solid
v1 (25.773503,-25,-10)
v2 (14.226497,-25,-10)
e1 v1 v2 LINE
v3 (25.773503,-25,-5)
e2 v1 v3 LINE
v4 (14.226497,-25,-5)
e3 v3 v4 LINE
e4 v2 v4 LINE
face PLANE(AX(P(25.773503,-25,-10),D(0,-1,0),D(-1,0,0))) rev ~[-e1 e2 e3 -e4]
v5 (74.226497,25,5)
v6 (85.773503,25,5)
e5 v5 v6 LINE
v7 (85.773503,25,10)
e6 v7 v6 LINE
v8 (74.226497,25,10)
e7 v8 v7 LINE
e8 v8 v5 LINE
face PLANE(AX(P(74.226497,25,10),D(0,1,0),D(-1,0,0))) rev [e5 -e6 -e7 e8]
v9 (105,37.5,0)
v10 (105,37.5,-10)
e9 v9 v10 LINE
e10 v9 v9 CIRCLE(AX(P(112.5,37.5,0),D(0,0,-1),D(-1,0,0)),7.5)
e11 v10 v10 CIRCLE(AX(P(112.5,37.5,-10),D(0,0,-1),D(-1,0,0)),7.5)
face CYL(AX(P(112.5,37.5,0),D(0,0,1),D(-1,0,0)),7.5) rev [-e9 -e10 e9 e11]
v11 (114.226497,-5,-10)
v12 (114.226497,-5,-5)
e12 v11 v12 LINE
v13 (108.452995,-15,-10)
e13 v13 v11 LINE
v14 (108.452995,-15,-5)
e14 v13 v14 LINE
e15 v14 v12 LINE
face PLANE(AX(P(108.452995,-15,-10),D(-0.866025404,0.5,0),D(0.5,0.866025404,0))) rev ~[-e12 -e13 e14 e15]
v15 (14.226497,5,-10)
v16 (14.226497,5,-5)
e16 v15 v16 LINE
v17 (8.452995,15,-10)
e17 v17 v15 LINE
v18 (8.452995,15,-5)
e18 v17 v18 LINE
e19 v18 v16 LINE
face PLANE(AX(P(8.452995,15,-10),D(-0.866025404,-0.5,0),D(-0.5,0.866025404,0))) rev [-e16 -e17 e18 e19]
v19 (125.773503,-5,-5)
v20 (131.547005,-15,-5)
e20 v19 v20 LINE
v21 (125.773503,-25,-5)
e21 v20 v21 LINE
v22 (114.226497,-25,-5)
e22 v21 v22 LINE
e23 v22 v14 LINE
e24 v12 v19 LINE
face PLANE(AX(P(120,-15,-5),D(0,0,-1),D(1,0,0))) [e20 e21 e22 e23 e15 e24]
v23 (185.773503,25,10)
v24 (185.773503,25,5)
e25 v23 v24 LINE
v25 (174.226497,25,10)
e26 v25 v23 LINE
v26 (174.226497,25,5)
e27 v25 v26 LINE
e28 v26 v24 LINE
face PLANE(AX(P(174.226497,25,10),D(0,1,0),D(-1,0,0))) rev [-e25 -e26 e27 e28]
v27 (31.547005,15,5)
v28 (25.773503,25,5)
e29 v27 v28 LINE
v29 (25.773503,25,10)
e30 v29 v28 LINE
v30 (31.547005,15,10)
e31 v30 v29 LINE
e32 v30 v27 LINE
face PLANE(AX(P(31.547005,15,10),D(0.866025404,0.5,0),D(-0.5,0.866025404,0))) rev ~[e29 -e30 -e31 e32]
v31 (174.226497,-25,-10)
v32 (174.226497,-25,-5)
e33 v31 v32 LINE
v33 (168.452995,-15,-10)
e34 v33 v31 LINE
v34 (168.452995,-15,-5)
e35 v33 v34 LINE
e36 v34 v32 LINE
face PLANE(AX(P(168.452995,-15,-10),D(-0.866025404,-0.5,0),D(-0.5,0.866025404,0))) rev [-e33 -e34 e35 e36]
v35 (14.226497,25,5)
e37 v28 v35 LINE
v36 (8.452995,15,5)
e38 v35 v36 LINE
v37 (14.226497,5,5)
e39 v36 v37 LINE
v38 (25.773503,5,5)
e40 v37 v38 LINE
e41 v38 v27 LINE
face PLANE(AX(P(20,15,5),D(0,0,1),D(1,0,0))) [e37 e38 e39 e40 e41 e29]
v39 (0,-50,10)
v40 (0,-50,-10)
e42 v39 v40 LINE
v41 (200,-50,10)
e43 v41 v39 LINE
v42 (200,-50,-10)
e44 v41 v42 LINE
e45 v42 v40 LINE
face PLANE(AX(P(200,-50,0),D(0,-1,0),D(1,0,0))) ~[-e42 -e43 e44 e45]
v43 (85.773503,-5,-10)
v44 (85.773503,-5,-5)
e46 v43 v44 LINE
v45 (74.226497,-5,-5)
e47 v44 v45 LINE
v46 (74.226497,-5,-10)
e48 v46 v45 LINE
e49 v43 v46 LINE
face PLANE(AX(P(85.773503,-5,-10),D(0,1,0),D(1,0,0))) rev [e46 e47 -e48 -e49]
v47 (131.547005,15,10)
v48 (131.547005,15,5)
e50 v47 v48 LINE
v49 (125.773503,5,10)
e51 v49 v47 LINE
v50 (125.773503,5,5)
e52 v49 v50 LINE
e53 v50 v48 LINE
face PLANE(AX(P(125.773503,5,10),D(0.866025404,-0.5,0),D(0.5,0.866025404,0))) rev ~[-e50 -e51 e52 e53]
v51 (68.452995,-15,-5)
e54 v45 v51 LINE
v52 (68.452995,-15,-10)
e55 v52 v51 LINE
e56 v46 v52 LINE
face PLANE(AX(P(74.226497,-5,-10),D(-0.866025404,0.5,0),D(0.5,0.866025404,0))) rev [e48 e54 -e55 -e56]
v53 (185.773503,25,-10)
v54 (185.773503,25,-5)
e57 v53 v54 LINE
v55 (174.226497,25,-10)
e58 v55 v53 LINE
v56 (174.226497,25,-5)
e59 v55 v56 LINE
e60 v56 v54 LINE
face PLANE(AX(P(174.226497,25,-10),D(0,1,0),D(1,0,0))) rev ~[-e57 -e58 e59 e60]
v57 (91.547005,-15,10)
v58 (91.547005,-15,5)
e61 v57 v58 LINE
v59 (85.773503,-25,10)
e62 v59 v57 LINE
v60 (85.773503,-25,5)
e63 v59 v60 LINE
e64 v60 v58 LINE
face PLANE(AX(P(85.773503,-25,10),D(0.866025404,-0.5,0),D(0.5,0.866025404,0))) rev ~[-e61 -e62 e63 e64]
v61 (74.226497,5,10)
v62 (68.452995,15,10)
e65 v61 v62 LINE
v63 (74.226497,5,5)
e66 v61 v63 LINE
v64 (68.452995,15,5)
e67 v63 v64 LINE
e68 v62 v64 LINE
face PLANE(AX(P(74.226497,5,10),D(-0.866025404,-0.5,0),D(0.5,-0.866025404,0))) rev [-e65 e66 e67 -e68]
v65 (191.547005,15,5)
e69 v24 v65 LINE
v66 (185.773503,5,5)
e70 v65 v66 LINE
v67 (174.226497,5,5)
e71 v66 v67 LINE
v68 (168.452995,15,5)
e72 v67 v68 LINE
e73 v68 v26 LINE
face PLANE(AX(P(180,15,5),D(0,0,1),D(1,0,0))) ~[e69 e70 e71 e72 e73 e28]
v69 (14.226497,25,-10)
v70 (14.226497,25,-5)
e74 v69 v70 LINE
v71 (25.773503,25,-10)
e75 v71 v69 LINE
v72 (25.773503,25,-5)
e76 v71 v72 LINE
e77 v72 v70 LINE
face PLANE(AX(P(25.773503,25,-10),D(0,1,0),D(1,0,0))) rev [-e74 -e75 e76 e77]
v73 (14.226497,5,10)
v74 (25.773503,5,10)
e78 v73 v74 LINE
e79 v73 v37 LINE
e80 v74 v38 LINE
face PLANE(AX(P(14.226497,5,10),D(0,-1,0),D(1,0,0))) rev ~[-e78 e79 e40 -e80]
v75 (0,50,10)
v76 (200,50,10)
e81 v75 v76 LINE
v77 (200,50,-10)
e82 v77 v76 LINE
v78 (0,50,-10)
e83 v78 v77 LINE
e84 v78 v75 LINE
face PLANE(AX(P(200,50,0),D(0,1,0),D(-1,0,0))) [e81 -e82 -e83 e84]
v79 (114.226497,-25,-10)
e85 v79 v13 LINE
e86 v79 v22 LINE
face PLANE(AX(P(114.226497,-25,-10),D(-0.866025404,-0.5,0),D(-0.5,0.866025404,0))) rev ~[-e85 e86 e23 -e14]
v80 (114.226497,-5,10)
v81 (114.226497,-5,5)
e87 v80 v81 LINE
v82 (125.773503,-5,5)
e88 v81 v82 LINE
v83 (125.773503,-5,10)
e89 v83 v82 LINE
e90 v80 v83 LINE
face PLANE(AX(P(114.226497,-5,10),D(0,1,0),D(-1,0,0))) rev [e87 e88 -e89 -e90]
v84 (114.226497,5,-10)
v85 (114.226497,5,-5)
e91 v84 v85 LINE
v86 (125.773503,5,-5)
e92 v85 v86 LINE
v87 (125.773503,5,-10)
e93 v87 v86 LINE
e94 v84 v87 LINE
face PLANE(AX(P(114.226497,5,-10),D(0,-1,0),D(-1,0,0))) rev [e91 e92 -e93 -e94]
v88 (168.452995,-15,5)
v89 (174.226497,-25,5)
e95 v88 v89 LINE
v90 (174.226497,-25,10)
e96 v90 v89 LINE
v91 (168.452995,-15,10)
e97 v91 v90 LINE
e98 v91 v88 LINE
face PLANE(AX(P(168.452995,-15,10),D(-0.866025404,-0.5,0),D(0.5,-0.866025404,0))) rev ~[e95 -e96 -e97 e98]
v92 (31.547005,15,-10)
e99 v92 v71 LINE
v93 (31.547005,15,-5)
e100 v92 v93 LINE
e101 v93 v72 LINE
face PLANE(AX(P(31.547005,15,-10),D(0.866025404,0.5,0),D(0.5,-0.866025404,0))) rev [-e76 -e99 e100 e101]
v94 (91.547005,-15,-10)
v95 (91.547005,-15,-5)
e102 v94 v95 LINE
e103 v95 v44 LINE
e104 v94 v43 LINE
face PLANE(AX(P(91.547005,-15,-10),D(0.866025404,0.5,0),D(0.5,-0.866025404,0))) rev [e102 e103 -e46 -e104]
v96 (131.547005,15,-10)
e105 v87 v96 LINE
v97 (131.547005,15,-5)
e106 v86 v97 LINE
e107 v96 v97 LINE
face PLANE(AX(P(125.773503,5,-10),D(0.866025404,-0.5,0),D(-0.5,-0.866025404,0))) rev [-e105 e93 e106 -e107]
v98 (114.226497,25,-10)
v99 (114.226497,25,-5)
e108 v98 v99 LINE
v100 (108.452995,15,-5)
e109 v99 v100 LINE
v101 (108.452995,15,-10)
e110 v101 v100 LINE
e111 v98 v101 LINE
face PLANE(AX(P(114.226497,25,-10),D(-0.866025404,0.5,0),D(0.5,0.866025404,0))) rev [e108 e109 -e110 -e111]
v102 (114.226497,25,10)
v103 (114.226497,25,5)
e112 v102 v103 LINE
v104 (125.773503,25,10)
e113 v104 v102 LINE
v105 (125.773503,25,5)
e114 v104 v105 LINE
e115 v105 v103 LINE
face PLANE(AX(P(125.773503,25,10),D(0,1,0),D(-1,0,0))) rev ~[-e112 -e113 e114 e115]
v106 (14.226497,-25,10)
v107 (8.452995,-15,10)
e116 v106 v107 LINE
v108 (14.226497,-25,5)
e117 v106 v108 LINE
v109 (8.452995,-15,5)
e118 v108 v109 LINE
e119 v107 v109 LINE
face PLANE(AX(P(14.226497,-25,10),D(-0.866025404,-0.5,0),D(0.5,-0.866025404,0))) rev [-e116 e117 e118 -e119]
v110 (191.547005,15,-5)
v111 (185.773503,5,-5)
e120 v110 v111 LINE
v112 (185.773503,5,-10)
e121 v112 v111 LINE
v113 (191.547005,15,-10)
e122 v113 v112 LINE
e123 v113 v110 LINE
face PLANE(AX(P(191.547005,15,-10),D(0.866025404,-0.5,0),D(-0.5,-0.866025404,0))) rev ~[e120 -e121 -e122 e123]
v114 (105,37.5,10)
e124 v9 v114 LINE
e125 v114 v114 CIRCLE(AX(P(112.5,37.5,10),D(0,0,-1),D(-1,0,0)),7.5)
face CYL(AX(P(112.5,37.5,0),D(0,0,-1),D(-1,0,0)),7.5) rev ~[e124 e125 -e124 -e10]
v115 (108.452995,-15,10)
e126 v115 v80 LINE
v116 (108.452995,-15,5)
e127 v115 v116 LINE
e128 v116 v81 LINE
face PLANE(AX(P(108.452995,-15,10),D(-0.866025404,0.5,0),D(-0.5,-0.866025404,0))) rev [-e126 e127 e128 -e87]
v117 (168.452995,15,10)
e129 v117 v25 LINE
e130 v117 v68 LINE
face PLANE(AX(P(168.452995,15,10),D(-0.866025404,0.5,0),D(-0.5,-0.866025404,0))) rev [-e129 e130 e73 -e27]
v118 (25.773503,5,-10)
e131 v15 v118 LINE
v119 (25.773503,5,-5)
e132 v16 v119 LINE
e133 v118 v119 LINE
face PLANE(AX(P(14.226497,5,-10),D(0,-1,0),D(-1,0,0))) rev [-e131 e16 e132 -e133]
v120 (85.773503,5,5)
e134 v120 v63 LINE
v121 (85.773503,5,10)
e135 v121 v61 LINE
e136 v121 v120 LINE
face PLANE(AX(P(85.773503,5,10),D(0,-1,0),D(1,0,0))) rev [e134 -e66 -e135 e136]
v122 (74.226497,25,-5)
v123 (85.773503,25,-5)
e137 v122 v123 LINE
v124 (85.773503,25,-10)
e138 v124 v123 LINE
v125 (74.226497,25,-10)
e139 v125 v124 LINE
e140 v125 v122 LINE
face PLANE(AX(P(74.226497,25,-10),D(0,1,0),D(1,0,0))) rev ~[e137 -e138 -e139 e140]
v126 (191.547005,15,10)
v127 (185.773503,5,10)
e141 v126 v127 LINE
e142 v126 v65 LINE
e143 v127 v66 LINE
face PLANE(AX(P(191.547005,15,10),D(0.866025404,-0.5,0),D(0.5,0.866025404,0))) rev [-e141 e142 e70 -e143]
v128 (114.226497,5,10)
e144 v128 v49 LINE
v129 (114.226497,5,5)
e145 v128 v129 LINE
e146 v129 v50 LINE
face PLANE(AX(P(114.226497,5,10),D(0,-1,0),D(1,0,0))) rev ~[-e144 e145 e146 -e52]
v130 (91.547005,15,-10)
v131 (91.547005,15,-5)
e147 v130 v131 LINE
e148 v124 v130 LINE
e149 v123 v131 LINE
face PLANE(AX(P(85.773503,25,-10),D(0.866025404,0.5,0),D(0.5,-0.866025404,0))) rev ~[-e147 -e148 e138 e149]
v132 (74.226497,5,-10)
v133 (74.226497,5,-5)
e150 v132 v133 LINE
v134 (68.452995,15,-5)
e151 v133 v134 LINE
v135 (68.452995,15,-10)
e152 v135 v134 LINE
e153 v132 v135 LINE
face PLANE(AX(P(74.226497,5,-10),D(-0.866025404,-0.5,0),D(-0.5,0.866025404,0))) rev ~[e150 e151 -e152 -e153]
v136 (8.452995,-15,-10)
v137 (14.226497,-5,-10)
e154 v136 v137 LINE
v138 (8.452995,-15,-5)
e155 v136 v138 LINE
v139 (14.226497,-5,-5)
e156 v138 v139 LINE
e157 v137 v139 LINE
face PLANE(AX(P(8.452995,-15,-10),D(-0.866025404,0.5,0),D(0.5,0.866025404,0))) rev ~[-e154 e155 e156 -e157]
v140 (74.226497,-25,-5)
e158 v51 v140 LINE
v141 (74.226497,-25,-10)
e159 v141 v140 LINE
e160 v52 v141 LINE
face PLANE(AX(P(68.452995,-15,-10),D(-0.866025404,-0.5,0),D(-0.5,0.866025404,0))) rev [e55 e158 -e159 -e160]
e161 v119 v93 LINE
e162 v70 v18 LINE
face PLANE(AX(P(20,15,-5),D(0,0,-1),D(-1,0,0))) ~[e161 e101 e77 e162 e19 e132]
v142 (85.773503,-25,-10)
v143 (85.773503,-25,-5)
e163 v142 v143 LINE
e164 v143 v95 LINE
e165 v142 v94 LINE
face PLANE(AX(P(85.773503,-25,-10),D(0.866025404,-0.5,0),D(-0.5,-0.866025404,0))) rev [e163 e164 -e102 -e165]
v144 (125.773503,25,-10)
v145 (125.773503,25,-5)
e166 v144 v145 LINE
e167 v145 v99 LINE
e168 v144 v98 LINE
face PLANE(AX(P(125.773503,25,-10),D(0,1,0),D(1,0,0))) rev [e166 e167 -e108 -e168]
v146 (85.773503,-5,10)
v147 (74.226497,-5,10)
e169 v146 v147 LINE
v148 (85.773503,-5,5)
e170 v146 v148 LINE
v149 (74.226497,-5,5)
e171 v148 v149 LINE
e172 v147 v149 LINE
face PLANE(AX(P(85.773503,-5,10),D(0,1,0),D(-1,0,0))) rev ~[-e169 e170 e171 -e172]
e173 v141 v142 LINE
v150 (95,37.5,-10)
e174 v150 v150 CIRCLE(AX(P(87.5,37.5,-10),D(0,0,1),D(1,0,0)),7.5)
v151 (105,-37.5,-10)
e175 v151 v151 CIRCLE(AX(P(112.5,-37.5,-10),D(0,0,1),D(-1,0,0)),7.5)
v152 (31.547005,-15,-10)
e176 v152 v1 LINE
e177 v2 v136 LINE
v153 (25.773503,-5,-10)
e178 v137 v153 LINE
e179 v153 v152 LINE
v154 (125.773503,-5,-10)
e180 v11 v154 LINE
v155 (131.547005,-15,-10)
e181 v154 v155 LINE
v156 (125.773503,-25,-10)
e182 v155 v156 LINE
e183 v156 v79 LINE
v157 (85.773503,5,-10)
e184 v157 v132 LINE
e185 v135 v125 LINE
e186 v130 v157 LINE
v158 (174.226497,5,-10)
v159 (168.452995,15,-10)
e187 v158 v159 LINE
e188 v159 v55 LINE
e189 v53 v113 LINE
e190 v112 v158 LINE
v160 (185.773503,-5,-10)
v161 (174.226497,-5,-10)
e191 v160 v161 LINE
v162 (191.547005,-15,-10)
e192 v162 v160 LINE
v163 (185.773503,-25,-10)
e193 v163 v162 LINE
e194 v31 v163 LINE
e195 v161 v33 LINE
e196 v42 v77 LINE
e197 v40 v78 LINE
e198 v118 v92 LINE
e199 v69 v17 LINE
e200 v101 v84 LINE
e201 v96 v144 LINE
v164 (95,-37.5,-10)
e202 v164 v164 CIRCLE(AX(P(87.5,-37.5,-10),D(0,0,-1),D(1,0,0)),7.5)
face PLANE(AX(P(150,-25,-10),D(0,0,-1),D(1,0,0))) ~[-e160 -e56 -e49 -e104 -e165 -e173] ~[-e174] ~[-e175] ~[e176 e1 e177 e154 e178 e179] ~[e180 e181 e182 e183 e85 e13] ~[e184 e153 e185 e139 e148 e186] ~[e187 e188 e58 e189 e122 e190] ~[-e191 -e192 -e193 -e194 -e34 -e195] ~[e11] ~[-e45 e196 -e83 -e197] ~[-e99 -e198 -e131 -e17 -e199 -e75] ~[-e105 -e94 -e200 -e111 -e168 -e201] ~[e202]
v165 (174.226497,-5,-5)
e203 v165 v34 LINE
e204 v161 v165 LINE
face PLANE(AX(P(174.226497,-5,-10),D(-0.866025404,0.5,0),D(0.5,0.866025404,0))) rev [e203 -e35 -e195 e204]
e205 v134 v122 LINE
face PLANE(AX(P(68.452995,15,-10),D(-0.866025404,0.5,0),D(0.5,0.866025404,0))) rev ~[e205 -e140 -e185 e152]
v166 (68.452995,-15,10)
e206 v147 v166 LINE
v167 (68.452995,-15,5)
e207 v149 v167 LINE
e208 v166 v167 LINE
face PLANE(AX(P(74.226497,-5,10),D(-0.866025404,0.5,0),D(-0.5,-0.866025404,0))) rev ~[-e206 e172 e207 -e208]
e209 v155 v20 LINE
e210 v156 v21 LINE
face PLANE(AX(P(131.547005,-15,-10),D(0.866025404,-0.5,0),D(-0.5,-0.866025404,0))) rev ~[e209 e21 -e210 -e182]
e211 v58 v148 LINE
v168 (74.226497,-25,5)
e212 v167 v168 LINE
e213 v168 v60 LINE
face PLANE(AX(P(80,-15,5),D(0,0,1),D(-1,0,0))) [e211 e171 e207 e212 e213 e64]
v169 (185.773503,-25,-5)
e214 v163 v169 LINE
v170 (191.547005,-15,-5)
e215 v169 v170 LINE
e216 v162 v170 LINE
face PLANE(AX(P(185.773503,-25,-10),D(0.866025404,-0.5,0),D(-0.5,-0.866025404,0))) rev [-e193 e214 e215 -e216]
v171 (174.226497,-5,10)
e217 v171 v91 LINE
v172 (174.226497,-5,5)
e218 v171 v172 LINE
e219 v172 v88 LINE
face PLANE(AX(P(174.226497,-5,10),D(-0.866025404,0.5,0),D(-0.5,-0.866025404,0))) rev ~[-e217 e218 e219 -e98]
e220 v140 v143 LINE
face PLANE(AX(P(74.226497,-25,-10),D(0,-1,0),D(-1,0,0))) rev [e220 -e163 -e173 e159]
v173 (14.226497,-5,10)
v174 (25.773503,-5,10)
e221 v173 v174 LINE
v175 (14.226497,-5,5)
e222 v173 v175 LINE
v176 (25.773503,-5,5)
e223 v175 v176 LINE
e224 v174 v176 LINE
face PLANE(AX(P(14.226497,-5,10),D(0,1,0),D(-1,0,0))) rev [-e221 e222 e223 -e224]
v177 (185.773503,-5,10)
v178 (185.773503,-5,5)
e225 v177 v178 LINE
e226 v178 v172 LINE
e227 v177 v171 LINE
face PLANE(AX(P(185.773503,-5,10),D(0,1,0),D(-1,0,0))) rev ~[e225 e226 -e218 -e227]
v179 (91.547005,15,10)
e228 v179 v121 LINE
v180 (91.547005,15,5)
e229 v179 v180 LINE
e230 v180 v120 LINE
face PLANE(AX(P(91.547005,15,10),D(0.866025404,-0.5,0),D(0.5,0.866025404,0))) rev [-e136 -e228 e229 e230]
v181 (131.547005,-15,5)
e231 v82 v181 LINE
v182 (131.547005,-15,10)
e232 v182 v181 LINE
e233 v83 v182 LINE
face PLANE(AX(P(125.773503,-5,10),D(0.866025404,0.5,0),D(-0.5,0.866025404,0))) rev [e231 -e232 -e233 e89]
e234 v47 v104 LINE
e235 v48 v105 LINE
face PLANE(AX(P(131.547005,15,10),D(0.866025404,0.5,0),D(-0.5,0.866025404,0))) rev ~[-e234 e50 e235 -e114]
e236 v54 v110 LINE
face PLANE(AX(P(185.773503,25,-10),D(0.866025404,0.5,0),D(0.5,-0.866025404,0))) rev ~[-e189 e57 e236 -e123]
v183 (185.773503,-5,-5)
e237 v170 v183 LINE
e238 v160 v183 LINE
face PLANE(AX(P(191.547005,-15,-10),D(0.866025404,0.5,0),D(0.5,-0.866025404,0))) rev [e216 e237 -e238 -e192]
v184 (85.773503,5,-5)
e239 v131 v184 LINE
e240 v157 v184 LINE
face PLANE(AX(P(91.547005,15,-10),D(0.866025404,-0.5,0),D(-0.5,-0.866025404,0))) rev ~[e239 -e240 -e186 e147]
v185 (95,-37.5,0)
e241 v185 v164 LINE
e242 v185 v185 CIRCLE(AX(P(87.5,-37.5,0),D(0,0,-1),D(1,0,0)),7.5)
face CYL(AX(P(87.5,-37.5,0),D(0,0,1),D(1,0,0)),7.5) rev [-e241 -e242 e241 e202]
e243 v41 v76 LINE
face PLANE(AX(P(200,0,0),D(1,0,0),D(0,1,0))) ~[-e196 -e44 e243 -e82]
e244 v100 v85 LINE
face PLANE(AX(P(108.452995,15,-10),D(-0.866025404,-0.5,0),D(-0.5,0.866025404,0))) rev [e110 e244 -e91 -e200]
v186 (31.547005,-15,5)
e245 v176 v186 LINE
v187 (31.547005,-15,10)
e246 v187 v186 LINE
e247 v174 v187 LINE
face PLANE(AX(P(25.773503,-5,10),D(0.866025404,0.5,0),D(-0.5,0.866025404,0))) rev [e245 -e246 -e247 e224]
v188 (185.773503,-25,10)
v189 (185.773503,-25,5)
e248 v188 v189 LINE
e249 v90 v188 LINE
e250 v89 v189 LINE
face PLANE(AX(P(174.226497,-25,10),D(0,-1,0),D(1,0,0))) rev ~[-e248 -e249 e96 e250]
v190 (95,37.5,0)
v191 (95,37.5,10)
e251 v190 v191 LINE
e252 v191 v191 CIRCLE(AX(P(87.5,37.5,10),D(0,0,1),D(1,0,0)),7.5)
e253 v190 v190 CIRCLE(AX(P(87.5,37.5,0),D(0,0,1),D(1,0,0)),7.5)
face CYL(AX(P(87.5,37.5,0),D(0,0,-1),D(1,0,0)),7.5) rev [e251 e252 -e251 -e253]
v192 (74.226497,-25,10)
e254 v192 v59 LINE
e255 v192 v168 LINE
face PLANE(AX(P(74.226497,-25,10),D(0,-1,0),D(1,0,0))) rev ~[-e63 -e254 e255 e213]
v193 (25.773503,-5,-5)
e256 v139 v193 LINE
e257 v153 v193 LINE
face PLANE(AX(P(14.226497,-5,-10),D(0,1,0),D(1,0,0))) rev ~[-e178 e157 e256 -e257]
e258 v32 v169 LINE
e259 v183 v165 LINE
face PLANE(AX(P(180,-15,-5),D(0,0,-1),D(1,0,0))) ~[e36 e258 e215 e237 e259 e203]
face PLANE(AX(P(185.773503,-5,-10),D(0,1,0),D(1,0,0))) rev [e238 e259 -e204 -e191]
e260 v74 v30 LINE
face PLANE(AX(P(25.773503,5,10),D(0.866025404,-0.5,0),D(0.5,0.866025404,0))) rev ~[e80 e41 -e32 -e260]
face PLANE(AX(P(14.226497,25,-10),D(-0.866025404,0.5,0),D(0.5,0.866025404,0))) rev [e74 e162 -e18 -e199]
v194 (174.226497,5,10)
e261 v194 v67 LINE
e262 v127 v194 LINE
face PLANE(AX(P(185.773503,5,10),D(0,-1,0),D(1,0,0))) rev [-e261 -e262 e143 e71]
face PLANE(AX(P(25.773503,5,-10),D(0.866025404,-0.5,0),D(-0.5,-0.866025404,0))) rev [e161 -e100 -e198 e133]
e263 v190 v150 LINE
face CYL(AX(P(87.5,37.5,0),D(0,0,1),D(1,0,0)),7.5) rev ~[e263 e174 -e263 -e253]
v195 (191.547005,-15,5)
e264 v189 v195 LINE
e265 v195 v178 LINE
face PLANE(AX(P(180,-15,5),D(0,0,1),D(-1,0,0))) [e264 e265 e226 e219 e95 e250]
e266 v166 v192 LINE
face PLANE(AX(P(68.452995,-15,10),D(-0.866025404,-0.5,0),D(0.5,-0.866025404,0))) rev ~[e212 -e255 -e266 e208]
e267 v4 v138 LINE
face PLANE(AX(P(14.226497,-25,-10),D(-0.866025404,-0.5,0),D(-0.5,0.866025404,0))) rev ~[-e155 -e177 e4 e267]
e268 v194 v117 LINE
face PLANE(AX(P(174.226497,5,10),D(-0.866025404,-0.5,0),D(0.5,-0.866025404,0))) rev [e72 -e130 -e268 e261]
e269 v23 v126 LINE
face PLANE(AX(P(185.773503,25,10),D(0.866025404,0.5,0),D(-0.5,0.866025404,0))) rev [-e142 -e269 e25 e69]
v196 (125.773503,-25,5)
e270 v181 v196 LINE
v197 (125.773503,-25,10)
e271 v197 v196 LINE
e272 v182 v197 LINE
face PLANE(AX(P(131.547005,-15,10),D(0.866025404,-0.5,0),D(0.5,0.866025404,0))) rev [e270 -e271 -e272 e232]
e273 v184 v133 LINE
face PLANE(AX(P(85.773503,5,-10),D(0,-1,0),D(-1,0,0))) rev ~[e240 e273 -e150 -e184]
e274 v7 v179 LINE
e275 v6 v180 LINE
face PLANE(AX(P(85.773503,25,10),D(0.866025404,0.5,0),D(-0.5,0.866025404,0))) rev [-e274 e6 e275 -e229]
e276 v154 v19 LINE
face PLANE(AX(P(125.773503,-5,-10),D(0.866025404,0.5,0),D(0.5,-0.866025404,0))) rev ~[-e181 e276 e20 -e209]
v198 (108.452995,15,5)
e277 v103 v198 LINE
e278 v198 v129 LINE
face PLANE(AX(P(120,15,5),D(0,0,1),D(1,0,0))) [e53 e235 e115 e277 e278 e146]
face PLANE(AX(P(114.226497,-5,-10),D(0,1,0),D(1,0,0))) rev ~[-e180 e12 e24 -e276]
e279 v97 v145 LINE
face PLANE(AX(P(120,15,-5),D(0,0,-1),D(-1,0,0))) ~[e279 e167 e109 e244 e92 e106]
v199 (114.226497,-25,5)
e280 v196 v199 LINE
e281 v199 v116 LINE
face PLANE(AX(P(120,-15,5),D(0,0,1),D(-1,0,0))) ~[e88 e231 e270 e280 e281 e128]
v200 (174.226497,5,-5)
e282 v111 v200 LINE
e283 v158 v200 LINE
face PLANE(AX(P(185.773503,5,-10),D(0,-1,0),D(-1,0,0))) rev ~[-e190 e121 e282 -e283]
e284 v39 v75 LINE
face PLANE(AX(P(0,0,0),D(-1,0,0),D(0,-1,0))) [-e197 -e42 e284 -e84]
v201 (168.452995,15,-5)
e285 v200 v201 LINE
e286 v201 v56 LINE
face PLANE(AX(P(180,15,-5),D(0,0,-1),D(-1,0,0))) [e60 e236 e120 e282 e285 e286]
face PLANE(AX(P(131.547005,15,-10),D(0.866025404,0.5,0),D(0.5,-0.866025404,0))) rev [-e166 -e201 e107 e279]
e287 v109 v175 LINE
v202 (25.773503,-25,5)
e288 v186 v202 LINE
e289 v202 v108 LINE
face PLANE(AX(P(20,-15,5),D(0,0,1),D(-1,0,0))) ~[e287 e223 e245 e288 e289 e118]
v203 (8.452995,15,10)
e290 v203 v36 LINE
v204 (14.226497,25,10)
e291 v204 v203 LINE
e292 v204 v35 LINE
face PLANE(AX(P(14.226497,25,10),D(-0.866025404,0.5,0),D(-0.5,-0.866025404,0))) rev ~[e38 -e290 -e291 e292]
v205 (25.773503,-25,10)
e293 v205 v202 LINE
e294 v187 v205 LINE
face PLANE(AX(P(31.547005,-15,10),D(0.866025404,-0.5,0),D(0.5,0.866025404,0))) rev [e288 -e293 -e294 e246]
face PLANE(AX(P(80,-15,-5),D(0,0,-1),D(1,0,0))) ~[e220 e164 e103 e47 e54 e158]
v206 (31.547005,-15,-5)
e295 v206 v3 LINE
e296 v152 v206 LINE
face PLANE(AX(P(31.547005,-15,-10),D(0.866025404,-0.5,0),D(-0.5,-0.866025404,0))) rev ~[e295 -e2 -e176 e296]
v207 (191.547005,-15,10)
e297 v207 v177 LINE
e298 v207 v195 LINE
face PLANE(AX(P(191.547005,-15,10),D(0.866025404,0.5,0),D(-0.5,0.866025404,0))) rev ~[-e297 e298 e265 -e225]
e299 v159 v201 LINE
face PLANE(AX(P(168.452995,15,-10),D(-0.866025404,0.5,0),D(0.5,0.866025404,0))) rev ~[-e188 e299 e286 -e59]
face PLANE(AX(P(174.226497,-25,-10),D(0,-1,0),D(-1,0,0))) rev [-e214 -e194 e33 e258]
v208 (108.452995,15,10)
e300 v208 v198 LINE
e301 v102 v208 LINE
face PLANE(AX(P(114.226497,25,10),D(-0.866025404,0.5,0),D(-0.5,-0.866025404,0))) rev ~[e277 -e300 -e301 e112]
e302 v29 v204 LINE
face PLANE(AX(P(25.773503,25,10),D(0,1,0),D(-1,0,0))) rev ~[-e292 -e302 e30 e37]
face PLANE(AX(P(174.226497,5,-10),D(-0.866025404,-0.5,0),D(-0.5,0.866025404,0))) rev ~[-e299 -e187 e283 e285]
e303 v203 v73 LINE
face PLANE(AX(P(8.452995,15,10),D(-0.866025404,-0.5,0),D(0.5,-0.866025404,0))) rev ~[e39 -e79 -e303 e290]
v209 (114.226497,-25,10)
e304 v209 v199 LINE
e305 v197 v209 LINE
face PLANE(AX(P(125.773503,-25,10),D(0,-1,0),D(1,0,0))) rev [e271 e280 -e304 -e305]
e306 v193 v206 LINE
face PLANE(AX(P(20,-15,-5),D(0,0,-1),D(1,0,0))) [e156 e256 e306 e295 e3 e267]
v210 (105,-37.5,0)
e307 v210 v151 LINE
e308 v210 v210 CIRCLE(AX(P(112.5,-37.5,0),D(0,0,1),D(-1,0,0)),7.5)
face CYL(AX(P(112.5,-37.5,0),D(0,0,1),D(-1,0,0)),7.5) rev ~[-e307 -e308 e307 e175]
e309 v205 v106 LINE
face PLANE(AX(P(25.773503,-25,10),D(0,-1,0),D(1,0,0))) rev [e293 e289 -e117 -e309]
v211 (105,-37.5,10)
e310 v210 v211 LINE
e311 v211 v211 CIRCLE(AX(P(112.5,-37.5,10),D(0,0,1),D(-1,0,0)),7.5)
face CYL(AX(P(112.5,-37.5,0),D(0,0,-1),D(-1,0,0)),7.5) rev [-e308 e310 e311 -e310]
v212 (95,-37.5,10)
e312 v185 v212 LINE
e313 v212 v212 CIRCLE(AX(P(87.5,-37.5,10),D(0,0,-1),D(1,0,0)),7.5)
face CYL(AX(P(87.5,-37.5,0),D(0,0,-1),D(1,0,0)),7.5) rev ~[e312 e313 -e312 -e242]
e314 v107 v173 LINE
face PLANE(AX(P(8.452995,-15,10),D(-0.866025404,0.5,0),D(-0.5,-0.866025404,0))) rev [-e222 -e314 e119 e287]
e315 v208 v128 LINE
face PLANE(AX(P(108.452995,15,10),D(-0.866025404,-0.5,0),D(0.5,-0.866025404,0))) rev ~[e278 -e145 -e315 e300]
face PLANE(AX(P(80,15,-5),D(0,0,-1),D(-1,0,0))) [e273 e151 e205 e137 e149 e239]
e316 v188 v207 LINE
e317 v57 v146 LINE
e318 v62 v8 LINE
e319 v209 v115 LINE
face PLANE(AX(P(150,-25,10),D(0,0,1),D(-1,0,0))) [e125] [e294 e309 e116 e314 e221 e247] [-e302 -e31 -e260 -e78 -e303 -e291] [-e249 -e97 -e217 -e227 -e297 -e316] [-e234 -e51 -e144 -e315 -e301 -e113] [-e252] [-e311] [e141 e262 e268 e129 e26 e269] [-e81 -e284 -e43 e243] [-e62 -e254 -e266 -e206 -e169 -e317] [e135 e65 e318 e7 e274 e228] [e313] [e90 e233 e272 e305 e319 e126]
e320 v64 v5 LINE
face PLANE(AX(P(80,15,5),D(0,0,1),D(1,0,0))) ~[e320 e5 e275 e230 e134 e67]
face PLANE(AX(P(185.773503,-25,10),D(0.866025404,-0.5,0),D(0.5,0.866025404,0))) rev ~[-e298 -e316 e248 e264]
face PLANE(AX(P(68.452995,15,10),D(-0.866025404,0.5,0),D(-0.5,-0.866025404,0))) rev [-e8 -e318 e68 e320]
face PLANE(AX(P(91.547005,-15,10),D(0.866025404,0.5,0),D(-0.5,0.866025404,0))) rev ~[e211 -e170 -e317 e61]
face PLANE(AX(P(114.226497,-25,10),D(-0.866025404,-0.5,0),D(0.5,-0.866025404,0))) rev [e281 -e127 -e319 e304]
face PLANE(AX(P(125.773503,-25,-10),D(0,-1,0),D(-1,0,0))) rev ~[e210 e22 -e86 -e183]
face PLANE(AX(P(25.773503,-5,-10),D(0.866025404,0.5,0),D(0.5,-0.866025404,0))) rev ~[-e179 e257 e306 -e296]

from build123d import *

# Parameters (mm, degrees)
SKETCH1_W           = 100
SKETCH1_H           = 50
SKETCH1_R           = 7.5
BOSS_EXTRUDE1_DEPTH = 10
CUT_EXTRUDE1_DEPTH  = 5


with BuildPart() as part:
    # Sketch1 → Boss-Extrude1 (new body)
    with BuildSketch(Plane.XY):
        with Locations((50, 25)):
            Rectangle(SKETCH1_W, SKETCH1_H)
        with Locations((87.5, 37.5)):
            Circle(SKETCH1_R, mode=Mode.SUBTRACT)
    extrude(amount=BOSS_EXTRUDE1_DEPTH)

    # Sketch2 → Cut-Extrude1 (cut)
    with BuildSketch(Plane.XY.offset(10)):
        Polygon((25.773502692, 25), (14.226497308, 25), (8.452994616, 15), (14.226497308, 5), (25.773502692, 5), (31.547005384, 15), align=None)
    cut_extrude1 = extrude(amount=-CUT_EXTRUDE1_DEPTH, mode=Mode.SUBTRACT)

    # Mirror1: Cut-Extrude1 across plane
    add(cut_extrude1.mirror(Plane.ZY.offset(-50)), mode=Mode.SUBTRACT)

    # Mirror3: part across plane


with BuildPart() as part_1:
    add(part.part)
    add(part.part.mirror(Plane(origin=(0, 0, 10), x_dir=(0, 0, 1), z_dir=(0, 1, 0))))

    # Mirror4: part across plane


with BuildPart() as part_2:
    add(part_1.part)
    add(part_1.part.mirror(Plane(origin=(100, 0, 10), x_dir=(0, 0, 1), z_dir=(-1, 0, 0))))

    # Mirror5: part across plane


with BuildPart() as part_3:
    add(part_2.part)
    add(part_2.part.mirror(Plane(origin=(0, 0, 0), x_dir=(1, 0, 0), z_dir=(0, 0, -1))))


solid = part_3.part
